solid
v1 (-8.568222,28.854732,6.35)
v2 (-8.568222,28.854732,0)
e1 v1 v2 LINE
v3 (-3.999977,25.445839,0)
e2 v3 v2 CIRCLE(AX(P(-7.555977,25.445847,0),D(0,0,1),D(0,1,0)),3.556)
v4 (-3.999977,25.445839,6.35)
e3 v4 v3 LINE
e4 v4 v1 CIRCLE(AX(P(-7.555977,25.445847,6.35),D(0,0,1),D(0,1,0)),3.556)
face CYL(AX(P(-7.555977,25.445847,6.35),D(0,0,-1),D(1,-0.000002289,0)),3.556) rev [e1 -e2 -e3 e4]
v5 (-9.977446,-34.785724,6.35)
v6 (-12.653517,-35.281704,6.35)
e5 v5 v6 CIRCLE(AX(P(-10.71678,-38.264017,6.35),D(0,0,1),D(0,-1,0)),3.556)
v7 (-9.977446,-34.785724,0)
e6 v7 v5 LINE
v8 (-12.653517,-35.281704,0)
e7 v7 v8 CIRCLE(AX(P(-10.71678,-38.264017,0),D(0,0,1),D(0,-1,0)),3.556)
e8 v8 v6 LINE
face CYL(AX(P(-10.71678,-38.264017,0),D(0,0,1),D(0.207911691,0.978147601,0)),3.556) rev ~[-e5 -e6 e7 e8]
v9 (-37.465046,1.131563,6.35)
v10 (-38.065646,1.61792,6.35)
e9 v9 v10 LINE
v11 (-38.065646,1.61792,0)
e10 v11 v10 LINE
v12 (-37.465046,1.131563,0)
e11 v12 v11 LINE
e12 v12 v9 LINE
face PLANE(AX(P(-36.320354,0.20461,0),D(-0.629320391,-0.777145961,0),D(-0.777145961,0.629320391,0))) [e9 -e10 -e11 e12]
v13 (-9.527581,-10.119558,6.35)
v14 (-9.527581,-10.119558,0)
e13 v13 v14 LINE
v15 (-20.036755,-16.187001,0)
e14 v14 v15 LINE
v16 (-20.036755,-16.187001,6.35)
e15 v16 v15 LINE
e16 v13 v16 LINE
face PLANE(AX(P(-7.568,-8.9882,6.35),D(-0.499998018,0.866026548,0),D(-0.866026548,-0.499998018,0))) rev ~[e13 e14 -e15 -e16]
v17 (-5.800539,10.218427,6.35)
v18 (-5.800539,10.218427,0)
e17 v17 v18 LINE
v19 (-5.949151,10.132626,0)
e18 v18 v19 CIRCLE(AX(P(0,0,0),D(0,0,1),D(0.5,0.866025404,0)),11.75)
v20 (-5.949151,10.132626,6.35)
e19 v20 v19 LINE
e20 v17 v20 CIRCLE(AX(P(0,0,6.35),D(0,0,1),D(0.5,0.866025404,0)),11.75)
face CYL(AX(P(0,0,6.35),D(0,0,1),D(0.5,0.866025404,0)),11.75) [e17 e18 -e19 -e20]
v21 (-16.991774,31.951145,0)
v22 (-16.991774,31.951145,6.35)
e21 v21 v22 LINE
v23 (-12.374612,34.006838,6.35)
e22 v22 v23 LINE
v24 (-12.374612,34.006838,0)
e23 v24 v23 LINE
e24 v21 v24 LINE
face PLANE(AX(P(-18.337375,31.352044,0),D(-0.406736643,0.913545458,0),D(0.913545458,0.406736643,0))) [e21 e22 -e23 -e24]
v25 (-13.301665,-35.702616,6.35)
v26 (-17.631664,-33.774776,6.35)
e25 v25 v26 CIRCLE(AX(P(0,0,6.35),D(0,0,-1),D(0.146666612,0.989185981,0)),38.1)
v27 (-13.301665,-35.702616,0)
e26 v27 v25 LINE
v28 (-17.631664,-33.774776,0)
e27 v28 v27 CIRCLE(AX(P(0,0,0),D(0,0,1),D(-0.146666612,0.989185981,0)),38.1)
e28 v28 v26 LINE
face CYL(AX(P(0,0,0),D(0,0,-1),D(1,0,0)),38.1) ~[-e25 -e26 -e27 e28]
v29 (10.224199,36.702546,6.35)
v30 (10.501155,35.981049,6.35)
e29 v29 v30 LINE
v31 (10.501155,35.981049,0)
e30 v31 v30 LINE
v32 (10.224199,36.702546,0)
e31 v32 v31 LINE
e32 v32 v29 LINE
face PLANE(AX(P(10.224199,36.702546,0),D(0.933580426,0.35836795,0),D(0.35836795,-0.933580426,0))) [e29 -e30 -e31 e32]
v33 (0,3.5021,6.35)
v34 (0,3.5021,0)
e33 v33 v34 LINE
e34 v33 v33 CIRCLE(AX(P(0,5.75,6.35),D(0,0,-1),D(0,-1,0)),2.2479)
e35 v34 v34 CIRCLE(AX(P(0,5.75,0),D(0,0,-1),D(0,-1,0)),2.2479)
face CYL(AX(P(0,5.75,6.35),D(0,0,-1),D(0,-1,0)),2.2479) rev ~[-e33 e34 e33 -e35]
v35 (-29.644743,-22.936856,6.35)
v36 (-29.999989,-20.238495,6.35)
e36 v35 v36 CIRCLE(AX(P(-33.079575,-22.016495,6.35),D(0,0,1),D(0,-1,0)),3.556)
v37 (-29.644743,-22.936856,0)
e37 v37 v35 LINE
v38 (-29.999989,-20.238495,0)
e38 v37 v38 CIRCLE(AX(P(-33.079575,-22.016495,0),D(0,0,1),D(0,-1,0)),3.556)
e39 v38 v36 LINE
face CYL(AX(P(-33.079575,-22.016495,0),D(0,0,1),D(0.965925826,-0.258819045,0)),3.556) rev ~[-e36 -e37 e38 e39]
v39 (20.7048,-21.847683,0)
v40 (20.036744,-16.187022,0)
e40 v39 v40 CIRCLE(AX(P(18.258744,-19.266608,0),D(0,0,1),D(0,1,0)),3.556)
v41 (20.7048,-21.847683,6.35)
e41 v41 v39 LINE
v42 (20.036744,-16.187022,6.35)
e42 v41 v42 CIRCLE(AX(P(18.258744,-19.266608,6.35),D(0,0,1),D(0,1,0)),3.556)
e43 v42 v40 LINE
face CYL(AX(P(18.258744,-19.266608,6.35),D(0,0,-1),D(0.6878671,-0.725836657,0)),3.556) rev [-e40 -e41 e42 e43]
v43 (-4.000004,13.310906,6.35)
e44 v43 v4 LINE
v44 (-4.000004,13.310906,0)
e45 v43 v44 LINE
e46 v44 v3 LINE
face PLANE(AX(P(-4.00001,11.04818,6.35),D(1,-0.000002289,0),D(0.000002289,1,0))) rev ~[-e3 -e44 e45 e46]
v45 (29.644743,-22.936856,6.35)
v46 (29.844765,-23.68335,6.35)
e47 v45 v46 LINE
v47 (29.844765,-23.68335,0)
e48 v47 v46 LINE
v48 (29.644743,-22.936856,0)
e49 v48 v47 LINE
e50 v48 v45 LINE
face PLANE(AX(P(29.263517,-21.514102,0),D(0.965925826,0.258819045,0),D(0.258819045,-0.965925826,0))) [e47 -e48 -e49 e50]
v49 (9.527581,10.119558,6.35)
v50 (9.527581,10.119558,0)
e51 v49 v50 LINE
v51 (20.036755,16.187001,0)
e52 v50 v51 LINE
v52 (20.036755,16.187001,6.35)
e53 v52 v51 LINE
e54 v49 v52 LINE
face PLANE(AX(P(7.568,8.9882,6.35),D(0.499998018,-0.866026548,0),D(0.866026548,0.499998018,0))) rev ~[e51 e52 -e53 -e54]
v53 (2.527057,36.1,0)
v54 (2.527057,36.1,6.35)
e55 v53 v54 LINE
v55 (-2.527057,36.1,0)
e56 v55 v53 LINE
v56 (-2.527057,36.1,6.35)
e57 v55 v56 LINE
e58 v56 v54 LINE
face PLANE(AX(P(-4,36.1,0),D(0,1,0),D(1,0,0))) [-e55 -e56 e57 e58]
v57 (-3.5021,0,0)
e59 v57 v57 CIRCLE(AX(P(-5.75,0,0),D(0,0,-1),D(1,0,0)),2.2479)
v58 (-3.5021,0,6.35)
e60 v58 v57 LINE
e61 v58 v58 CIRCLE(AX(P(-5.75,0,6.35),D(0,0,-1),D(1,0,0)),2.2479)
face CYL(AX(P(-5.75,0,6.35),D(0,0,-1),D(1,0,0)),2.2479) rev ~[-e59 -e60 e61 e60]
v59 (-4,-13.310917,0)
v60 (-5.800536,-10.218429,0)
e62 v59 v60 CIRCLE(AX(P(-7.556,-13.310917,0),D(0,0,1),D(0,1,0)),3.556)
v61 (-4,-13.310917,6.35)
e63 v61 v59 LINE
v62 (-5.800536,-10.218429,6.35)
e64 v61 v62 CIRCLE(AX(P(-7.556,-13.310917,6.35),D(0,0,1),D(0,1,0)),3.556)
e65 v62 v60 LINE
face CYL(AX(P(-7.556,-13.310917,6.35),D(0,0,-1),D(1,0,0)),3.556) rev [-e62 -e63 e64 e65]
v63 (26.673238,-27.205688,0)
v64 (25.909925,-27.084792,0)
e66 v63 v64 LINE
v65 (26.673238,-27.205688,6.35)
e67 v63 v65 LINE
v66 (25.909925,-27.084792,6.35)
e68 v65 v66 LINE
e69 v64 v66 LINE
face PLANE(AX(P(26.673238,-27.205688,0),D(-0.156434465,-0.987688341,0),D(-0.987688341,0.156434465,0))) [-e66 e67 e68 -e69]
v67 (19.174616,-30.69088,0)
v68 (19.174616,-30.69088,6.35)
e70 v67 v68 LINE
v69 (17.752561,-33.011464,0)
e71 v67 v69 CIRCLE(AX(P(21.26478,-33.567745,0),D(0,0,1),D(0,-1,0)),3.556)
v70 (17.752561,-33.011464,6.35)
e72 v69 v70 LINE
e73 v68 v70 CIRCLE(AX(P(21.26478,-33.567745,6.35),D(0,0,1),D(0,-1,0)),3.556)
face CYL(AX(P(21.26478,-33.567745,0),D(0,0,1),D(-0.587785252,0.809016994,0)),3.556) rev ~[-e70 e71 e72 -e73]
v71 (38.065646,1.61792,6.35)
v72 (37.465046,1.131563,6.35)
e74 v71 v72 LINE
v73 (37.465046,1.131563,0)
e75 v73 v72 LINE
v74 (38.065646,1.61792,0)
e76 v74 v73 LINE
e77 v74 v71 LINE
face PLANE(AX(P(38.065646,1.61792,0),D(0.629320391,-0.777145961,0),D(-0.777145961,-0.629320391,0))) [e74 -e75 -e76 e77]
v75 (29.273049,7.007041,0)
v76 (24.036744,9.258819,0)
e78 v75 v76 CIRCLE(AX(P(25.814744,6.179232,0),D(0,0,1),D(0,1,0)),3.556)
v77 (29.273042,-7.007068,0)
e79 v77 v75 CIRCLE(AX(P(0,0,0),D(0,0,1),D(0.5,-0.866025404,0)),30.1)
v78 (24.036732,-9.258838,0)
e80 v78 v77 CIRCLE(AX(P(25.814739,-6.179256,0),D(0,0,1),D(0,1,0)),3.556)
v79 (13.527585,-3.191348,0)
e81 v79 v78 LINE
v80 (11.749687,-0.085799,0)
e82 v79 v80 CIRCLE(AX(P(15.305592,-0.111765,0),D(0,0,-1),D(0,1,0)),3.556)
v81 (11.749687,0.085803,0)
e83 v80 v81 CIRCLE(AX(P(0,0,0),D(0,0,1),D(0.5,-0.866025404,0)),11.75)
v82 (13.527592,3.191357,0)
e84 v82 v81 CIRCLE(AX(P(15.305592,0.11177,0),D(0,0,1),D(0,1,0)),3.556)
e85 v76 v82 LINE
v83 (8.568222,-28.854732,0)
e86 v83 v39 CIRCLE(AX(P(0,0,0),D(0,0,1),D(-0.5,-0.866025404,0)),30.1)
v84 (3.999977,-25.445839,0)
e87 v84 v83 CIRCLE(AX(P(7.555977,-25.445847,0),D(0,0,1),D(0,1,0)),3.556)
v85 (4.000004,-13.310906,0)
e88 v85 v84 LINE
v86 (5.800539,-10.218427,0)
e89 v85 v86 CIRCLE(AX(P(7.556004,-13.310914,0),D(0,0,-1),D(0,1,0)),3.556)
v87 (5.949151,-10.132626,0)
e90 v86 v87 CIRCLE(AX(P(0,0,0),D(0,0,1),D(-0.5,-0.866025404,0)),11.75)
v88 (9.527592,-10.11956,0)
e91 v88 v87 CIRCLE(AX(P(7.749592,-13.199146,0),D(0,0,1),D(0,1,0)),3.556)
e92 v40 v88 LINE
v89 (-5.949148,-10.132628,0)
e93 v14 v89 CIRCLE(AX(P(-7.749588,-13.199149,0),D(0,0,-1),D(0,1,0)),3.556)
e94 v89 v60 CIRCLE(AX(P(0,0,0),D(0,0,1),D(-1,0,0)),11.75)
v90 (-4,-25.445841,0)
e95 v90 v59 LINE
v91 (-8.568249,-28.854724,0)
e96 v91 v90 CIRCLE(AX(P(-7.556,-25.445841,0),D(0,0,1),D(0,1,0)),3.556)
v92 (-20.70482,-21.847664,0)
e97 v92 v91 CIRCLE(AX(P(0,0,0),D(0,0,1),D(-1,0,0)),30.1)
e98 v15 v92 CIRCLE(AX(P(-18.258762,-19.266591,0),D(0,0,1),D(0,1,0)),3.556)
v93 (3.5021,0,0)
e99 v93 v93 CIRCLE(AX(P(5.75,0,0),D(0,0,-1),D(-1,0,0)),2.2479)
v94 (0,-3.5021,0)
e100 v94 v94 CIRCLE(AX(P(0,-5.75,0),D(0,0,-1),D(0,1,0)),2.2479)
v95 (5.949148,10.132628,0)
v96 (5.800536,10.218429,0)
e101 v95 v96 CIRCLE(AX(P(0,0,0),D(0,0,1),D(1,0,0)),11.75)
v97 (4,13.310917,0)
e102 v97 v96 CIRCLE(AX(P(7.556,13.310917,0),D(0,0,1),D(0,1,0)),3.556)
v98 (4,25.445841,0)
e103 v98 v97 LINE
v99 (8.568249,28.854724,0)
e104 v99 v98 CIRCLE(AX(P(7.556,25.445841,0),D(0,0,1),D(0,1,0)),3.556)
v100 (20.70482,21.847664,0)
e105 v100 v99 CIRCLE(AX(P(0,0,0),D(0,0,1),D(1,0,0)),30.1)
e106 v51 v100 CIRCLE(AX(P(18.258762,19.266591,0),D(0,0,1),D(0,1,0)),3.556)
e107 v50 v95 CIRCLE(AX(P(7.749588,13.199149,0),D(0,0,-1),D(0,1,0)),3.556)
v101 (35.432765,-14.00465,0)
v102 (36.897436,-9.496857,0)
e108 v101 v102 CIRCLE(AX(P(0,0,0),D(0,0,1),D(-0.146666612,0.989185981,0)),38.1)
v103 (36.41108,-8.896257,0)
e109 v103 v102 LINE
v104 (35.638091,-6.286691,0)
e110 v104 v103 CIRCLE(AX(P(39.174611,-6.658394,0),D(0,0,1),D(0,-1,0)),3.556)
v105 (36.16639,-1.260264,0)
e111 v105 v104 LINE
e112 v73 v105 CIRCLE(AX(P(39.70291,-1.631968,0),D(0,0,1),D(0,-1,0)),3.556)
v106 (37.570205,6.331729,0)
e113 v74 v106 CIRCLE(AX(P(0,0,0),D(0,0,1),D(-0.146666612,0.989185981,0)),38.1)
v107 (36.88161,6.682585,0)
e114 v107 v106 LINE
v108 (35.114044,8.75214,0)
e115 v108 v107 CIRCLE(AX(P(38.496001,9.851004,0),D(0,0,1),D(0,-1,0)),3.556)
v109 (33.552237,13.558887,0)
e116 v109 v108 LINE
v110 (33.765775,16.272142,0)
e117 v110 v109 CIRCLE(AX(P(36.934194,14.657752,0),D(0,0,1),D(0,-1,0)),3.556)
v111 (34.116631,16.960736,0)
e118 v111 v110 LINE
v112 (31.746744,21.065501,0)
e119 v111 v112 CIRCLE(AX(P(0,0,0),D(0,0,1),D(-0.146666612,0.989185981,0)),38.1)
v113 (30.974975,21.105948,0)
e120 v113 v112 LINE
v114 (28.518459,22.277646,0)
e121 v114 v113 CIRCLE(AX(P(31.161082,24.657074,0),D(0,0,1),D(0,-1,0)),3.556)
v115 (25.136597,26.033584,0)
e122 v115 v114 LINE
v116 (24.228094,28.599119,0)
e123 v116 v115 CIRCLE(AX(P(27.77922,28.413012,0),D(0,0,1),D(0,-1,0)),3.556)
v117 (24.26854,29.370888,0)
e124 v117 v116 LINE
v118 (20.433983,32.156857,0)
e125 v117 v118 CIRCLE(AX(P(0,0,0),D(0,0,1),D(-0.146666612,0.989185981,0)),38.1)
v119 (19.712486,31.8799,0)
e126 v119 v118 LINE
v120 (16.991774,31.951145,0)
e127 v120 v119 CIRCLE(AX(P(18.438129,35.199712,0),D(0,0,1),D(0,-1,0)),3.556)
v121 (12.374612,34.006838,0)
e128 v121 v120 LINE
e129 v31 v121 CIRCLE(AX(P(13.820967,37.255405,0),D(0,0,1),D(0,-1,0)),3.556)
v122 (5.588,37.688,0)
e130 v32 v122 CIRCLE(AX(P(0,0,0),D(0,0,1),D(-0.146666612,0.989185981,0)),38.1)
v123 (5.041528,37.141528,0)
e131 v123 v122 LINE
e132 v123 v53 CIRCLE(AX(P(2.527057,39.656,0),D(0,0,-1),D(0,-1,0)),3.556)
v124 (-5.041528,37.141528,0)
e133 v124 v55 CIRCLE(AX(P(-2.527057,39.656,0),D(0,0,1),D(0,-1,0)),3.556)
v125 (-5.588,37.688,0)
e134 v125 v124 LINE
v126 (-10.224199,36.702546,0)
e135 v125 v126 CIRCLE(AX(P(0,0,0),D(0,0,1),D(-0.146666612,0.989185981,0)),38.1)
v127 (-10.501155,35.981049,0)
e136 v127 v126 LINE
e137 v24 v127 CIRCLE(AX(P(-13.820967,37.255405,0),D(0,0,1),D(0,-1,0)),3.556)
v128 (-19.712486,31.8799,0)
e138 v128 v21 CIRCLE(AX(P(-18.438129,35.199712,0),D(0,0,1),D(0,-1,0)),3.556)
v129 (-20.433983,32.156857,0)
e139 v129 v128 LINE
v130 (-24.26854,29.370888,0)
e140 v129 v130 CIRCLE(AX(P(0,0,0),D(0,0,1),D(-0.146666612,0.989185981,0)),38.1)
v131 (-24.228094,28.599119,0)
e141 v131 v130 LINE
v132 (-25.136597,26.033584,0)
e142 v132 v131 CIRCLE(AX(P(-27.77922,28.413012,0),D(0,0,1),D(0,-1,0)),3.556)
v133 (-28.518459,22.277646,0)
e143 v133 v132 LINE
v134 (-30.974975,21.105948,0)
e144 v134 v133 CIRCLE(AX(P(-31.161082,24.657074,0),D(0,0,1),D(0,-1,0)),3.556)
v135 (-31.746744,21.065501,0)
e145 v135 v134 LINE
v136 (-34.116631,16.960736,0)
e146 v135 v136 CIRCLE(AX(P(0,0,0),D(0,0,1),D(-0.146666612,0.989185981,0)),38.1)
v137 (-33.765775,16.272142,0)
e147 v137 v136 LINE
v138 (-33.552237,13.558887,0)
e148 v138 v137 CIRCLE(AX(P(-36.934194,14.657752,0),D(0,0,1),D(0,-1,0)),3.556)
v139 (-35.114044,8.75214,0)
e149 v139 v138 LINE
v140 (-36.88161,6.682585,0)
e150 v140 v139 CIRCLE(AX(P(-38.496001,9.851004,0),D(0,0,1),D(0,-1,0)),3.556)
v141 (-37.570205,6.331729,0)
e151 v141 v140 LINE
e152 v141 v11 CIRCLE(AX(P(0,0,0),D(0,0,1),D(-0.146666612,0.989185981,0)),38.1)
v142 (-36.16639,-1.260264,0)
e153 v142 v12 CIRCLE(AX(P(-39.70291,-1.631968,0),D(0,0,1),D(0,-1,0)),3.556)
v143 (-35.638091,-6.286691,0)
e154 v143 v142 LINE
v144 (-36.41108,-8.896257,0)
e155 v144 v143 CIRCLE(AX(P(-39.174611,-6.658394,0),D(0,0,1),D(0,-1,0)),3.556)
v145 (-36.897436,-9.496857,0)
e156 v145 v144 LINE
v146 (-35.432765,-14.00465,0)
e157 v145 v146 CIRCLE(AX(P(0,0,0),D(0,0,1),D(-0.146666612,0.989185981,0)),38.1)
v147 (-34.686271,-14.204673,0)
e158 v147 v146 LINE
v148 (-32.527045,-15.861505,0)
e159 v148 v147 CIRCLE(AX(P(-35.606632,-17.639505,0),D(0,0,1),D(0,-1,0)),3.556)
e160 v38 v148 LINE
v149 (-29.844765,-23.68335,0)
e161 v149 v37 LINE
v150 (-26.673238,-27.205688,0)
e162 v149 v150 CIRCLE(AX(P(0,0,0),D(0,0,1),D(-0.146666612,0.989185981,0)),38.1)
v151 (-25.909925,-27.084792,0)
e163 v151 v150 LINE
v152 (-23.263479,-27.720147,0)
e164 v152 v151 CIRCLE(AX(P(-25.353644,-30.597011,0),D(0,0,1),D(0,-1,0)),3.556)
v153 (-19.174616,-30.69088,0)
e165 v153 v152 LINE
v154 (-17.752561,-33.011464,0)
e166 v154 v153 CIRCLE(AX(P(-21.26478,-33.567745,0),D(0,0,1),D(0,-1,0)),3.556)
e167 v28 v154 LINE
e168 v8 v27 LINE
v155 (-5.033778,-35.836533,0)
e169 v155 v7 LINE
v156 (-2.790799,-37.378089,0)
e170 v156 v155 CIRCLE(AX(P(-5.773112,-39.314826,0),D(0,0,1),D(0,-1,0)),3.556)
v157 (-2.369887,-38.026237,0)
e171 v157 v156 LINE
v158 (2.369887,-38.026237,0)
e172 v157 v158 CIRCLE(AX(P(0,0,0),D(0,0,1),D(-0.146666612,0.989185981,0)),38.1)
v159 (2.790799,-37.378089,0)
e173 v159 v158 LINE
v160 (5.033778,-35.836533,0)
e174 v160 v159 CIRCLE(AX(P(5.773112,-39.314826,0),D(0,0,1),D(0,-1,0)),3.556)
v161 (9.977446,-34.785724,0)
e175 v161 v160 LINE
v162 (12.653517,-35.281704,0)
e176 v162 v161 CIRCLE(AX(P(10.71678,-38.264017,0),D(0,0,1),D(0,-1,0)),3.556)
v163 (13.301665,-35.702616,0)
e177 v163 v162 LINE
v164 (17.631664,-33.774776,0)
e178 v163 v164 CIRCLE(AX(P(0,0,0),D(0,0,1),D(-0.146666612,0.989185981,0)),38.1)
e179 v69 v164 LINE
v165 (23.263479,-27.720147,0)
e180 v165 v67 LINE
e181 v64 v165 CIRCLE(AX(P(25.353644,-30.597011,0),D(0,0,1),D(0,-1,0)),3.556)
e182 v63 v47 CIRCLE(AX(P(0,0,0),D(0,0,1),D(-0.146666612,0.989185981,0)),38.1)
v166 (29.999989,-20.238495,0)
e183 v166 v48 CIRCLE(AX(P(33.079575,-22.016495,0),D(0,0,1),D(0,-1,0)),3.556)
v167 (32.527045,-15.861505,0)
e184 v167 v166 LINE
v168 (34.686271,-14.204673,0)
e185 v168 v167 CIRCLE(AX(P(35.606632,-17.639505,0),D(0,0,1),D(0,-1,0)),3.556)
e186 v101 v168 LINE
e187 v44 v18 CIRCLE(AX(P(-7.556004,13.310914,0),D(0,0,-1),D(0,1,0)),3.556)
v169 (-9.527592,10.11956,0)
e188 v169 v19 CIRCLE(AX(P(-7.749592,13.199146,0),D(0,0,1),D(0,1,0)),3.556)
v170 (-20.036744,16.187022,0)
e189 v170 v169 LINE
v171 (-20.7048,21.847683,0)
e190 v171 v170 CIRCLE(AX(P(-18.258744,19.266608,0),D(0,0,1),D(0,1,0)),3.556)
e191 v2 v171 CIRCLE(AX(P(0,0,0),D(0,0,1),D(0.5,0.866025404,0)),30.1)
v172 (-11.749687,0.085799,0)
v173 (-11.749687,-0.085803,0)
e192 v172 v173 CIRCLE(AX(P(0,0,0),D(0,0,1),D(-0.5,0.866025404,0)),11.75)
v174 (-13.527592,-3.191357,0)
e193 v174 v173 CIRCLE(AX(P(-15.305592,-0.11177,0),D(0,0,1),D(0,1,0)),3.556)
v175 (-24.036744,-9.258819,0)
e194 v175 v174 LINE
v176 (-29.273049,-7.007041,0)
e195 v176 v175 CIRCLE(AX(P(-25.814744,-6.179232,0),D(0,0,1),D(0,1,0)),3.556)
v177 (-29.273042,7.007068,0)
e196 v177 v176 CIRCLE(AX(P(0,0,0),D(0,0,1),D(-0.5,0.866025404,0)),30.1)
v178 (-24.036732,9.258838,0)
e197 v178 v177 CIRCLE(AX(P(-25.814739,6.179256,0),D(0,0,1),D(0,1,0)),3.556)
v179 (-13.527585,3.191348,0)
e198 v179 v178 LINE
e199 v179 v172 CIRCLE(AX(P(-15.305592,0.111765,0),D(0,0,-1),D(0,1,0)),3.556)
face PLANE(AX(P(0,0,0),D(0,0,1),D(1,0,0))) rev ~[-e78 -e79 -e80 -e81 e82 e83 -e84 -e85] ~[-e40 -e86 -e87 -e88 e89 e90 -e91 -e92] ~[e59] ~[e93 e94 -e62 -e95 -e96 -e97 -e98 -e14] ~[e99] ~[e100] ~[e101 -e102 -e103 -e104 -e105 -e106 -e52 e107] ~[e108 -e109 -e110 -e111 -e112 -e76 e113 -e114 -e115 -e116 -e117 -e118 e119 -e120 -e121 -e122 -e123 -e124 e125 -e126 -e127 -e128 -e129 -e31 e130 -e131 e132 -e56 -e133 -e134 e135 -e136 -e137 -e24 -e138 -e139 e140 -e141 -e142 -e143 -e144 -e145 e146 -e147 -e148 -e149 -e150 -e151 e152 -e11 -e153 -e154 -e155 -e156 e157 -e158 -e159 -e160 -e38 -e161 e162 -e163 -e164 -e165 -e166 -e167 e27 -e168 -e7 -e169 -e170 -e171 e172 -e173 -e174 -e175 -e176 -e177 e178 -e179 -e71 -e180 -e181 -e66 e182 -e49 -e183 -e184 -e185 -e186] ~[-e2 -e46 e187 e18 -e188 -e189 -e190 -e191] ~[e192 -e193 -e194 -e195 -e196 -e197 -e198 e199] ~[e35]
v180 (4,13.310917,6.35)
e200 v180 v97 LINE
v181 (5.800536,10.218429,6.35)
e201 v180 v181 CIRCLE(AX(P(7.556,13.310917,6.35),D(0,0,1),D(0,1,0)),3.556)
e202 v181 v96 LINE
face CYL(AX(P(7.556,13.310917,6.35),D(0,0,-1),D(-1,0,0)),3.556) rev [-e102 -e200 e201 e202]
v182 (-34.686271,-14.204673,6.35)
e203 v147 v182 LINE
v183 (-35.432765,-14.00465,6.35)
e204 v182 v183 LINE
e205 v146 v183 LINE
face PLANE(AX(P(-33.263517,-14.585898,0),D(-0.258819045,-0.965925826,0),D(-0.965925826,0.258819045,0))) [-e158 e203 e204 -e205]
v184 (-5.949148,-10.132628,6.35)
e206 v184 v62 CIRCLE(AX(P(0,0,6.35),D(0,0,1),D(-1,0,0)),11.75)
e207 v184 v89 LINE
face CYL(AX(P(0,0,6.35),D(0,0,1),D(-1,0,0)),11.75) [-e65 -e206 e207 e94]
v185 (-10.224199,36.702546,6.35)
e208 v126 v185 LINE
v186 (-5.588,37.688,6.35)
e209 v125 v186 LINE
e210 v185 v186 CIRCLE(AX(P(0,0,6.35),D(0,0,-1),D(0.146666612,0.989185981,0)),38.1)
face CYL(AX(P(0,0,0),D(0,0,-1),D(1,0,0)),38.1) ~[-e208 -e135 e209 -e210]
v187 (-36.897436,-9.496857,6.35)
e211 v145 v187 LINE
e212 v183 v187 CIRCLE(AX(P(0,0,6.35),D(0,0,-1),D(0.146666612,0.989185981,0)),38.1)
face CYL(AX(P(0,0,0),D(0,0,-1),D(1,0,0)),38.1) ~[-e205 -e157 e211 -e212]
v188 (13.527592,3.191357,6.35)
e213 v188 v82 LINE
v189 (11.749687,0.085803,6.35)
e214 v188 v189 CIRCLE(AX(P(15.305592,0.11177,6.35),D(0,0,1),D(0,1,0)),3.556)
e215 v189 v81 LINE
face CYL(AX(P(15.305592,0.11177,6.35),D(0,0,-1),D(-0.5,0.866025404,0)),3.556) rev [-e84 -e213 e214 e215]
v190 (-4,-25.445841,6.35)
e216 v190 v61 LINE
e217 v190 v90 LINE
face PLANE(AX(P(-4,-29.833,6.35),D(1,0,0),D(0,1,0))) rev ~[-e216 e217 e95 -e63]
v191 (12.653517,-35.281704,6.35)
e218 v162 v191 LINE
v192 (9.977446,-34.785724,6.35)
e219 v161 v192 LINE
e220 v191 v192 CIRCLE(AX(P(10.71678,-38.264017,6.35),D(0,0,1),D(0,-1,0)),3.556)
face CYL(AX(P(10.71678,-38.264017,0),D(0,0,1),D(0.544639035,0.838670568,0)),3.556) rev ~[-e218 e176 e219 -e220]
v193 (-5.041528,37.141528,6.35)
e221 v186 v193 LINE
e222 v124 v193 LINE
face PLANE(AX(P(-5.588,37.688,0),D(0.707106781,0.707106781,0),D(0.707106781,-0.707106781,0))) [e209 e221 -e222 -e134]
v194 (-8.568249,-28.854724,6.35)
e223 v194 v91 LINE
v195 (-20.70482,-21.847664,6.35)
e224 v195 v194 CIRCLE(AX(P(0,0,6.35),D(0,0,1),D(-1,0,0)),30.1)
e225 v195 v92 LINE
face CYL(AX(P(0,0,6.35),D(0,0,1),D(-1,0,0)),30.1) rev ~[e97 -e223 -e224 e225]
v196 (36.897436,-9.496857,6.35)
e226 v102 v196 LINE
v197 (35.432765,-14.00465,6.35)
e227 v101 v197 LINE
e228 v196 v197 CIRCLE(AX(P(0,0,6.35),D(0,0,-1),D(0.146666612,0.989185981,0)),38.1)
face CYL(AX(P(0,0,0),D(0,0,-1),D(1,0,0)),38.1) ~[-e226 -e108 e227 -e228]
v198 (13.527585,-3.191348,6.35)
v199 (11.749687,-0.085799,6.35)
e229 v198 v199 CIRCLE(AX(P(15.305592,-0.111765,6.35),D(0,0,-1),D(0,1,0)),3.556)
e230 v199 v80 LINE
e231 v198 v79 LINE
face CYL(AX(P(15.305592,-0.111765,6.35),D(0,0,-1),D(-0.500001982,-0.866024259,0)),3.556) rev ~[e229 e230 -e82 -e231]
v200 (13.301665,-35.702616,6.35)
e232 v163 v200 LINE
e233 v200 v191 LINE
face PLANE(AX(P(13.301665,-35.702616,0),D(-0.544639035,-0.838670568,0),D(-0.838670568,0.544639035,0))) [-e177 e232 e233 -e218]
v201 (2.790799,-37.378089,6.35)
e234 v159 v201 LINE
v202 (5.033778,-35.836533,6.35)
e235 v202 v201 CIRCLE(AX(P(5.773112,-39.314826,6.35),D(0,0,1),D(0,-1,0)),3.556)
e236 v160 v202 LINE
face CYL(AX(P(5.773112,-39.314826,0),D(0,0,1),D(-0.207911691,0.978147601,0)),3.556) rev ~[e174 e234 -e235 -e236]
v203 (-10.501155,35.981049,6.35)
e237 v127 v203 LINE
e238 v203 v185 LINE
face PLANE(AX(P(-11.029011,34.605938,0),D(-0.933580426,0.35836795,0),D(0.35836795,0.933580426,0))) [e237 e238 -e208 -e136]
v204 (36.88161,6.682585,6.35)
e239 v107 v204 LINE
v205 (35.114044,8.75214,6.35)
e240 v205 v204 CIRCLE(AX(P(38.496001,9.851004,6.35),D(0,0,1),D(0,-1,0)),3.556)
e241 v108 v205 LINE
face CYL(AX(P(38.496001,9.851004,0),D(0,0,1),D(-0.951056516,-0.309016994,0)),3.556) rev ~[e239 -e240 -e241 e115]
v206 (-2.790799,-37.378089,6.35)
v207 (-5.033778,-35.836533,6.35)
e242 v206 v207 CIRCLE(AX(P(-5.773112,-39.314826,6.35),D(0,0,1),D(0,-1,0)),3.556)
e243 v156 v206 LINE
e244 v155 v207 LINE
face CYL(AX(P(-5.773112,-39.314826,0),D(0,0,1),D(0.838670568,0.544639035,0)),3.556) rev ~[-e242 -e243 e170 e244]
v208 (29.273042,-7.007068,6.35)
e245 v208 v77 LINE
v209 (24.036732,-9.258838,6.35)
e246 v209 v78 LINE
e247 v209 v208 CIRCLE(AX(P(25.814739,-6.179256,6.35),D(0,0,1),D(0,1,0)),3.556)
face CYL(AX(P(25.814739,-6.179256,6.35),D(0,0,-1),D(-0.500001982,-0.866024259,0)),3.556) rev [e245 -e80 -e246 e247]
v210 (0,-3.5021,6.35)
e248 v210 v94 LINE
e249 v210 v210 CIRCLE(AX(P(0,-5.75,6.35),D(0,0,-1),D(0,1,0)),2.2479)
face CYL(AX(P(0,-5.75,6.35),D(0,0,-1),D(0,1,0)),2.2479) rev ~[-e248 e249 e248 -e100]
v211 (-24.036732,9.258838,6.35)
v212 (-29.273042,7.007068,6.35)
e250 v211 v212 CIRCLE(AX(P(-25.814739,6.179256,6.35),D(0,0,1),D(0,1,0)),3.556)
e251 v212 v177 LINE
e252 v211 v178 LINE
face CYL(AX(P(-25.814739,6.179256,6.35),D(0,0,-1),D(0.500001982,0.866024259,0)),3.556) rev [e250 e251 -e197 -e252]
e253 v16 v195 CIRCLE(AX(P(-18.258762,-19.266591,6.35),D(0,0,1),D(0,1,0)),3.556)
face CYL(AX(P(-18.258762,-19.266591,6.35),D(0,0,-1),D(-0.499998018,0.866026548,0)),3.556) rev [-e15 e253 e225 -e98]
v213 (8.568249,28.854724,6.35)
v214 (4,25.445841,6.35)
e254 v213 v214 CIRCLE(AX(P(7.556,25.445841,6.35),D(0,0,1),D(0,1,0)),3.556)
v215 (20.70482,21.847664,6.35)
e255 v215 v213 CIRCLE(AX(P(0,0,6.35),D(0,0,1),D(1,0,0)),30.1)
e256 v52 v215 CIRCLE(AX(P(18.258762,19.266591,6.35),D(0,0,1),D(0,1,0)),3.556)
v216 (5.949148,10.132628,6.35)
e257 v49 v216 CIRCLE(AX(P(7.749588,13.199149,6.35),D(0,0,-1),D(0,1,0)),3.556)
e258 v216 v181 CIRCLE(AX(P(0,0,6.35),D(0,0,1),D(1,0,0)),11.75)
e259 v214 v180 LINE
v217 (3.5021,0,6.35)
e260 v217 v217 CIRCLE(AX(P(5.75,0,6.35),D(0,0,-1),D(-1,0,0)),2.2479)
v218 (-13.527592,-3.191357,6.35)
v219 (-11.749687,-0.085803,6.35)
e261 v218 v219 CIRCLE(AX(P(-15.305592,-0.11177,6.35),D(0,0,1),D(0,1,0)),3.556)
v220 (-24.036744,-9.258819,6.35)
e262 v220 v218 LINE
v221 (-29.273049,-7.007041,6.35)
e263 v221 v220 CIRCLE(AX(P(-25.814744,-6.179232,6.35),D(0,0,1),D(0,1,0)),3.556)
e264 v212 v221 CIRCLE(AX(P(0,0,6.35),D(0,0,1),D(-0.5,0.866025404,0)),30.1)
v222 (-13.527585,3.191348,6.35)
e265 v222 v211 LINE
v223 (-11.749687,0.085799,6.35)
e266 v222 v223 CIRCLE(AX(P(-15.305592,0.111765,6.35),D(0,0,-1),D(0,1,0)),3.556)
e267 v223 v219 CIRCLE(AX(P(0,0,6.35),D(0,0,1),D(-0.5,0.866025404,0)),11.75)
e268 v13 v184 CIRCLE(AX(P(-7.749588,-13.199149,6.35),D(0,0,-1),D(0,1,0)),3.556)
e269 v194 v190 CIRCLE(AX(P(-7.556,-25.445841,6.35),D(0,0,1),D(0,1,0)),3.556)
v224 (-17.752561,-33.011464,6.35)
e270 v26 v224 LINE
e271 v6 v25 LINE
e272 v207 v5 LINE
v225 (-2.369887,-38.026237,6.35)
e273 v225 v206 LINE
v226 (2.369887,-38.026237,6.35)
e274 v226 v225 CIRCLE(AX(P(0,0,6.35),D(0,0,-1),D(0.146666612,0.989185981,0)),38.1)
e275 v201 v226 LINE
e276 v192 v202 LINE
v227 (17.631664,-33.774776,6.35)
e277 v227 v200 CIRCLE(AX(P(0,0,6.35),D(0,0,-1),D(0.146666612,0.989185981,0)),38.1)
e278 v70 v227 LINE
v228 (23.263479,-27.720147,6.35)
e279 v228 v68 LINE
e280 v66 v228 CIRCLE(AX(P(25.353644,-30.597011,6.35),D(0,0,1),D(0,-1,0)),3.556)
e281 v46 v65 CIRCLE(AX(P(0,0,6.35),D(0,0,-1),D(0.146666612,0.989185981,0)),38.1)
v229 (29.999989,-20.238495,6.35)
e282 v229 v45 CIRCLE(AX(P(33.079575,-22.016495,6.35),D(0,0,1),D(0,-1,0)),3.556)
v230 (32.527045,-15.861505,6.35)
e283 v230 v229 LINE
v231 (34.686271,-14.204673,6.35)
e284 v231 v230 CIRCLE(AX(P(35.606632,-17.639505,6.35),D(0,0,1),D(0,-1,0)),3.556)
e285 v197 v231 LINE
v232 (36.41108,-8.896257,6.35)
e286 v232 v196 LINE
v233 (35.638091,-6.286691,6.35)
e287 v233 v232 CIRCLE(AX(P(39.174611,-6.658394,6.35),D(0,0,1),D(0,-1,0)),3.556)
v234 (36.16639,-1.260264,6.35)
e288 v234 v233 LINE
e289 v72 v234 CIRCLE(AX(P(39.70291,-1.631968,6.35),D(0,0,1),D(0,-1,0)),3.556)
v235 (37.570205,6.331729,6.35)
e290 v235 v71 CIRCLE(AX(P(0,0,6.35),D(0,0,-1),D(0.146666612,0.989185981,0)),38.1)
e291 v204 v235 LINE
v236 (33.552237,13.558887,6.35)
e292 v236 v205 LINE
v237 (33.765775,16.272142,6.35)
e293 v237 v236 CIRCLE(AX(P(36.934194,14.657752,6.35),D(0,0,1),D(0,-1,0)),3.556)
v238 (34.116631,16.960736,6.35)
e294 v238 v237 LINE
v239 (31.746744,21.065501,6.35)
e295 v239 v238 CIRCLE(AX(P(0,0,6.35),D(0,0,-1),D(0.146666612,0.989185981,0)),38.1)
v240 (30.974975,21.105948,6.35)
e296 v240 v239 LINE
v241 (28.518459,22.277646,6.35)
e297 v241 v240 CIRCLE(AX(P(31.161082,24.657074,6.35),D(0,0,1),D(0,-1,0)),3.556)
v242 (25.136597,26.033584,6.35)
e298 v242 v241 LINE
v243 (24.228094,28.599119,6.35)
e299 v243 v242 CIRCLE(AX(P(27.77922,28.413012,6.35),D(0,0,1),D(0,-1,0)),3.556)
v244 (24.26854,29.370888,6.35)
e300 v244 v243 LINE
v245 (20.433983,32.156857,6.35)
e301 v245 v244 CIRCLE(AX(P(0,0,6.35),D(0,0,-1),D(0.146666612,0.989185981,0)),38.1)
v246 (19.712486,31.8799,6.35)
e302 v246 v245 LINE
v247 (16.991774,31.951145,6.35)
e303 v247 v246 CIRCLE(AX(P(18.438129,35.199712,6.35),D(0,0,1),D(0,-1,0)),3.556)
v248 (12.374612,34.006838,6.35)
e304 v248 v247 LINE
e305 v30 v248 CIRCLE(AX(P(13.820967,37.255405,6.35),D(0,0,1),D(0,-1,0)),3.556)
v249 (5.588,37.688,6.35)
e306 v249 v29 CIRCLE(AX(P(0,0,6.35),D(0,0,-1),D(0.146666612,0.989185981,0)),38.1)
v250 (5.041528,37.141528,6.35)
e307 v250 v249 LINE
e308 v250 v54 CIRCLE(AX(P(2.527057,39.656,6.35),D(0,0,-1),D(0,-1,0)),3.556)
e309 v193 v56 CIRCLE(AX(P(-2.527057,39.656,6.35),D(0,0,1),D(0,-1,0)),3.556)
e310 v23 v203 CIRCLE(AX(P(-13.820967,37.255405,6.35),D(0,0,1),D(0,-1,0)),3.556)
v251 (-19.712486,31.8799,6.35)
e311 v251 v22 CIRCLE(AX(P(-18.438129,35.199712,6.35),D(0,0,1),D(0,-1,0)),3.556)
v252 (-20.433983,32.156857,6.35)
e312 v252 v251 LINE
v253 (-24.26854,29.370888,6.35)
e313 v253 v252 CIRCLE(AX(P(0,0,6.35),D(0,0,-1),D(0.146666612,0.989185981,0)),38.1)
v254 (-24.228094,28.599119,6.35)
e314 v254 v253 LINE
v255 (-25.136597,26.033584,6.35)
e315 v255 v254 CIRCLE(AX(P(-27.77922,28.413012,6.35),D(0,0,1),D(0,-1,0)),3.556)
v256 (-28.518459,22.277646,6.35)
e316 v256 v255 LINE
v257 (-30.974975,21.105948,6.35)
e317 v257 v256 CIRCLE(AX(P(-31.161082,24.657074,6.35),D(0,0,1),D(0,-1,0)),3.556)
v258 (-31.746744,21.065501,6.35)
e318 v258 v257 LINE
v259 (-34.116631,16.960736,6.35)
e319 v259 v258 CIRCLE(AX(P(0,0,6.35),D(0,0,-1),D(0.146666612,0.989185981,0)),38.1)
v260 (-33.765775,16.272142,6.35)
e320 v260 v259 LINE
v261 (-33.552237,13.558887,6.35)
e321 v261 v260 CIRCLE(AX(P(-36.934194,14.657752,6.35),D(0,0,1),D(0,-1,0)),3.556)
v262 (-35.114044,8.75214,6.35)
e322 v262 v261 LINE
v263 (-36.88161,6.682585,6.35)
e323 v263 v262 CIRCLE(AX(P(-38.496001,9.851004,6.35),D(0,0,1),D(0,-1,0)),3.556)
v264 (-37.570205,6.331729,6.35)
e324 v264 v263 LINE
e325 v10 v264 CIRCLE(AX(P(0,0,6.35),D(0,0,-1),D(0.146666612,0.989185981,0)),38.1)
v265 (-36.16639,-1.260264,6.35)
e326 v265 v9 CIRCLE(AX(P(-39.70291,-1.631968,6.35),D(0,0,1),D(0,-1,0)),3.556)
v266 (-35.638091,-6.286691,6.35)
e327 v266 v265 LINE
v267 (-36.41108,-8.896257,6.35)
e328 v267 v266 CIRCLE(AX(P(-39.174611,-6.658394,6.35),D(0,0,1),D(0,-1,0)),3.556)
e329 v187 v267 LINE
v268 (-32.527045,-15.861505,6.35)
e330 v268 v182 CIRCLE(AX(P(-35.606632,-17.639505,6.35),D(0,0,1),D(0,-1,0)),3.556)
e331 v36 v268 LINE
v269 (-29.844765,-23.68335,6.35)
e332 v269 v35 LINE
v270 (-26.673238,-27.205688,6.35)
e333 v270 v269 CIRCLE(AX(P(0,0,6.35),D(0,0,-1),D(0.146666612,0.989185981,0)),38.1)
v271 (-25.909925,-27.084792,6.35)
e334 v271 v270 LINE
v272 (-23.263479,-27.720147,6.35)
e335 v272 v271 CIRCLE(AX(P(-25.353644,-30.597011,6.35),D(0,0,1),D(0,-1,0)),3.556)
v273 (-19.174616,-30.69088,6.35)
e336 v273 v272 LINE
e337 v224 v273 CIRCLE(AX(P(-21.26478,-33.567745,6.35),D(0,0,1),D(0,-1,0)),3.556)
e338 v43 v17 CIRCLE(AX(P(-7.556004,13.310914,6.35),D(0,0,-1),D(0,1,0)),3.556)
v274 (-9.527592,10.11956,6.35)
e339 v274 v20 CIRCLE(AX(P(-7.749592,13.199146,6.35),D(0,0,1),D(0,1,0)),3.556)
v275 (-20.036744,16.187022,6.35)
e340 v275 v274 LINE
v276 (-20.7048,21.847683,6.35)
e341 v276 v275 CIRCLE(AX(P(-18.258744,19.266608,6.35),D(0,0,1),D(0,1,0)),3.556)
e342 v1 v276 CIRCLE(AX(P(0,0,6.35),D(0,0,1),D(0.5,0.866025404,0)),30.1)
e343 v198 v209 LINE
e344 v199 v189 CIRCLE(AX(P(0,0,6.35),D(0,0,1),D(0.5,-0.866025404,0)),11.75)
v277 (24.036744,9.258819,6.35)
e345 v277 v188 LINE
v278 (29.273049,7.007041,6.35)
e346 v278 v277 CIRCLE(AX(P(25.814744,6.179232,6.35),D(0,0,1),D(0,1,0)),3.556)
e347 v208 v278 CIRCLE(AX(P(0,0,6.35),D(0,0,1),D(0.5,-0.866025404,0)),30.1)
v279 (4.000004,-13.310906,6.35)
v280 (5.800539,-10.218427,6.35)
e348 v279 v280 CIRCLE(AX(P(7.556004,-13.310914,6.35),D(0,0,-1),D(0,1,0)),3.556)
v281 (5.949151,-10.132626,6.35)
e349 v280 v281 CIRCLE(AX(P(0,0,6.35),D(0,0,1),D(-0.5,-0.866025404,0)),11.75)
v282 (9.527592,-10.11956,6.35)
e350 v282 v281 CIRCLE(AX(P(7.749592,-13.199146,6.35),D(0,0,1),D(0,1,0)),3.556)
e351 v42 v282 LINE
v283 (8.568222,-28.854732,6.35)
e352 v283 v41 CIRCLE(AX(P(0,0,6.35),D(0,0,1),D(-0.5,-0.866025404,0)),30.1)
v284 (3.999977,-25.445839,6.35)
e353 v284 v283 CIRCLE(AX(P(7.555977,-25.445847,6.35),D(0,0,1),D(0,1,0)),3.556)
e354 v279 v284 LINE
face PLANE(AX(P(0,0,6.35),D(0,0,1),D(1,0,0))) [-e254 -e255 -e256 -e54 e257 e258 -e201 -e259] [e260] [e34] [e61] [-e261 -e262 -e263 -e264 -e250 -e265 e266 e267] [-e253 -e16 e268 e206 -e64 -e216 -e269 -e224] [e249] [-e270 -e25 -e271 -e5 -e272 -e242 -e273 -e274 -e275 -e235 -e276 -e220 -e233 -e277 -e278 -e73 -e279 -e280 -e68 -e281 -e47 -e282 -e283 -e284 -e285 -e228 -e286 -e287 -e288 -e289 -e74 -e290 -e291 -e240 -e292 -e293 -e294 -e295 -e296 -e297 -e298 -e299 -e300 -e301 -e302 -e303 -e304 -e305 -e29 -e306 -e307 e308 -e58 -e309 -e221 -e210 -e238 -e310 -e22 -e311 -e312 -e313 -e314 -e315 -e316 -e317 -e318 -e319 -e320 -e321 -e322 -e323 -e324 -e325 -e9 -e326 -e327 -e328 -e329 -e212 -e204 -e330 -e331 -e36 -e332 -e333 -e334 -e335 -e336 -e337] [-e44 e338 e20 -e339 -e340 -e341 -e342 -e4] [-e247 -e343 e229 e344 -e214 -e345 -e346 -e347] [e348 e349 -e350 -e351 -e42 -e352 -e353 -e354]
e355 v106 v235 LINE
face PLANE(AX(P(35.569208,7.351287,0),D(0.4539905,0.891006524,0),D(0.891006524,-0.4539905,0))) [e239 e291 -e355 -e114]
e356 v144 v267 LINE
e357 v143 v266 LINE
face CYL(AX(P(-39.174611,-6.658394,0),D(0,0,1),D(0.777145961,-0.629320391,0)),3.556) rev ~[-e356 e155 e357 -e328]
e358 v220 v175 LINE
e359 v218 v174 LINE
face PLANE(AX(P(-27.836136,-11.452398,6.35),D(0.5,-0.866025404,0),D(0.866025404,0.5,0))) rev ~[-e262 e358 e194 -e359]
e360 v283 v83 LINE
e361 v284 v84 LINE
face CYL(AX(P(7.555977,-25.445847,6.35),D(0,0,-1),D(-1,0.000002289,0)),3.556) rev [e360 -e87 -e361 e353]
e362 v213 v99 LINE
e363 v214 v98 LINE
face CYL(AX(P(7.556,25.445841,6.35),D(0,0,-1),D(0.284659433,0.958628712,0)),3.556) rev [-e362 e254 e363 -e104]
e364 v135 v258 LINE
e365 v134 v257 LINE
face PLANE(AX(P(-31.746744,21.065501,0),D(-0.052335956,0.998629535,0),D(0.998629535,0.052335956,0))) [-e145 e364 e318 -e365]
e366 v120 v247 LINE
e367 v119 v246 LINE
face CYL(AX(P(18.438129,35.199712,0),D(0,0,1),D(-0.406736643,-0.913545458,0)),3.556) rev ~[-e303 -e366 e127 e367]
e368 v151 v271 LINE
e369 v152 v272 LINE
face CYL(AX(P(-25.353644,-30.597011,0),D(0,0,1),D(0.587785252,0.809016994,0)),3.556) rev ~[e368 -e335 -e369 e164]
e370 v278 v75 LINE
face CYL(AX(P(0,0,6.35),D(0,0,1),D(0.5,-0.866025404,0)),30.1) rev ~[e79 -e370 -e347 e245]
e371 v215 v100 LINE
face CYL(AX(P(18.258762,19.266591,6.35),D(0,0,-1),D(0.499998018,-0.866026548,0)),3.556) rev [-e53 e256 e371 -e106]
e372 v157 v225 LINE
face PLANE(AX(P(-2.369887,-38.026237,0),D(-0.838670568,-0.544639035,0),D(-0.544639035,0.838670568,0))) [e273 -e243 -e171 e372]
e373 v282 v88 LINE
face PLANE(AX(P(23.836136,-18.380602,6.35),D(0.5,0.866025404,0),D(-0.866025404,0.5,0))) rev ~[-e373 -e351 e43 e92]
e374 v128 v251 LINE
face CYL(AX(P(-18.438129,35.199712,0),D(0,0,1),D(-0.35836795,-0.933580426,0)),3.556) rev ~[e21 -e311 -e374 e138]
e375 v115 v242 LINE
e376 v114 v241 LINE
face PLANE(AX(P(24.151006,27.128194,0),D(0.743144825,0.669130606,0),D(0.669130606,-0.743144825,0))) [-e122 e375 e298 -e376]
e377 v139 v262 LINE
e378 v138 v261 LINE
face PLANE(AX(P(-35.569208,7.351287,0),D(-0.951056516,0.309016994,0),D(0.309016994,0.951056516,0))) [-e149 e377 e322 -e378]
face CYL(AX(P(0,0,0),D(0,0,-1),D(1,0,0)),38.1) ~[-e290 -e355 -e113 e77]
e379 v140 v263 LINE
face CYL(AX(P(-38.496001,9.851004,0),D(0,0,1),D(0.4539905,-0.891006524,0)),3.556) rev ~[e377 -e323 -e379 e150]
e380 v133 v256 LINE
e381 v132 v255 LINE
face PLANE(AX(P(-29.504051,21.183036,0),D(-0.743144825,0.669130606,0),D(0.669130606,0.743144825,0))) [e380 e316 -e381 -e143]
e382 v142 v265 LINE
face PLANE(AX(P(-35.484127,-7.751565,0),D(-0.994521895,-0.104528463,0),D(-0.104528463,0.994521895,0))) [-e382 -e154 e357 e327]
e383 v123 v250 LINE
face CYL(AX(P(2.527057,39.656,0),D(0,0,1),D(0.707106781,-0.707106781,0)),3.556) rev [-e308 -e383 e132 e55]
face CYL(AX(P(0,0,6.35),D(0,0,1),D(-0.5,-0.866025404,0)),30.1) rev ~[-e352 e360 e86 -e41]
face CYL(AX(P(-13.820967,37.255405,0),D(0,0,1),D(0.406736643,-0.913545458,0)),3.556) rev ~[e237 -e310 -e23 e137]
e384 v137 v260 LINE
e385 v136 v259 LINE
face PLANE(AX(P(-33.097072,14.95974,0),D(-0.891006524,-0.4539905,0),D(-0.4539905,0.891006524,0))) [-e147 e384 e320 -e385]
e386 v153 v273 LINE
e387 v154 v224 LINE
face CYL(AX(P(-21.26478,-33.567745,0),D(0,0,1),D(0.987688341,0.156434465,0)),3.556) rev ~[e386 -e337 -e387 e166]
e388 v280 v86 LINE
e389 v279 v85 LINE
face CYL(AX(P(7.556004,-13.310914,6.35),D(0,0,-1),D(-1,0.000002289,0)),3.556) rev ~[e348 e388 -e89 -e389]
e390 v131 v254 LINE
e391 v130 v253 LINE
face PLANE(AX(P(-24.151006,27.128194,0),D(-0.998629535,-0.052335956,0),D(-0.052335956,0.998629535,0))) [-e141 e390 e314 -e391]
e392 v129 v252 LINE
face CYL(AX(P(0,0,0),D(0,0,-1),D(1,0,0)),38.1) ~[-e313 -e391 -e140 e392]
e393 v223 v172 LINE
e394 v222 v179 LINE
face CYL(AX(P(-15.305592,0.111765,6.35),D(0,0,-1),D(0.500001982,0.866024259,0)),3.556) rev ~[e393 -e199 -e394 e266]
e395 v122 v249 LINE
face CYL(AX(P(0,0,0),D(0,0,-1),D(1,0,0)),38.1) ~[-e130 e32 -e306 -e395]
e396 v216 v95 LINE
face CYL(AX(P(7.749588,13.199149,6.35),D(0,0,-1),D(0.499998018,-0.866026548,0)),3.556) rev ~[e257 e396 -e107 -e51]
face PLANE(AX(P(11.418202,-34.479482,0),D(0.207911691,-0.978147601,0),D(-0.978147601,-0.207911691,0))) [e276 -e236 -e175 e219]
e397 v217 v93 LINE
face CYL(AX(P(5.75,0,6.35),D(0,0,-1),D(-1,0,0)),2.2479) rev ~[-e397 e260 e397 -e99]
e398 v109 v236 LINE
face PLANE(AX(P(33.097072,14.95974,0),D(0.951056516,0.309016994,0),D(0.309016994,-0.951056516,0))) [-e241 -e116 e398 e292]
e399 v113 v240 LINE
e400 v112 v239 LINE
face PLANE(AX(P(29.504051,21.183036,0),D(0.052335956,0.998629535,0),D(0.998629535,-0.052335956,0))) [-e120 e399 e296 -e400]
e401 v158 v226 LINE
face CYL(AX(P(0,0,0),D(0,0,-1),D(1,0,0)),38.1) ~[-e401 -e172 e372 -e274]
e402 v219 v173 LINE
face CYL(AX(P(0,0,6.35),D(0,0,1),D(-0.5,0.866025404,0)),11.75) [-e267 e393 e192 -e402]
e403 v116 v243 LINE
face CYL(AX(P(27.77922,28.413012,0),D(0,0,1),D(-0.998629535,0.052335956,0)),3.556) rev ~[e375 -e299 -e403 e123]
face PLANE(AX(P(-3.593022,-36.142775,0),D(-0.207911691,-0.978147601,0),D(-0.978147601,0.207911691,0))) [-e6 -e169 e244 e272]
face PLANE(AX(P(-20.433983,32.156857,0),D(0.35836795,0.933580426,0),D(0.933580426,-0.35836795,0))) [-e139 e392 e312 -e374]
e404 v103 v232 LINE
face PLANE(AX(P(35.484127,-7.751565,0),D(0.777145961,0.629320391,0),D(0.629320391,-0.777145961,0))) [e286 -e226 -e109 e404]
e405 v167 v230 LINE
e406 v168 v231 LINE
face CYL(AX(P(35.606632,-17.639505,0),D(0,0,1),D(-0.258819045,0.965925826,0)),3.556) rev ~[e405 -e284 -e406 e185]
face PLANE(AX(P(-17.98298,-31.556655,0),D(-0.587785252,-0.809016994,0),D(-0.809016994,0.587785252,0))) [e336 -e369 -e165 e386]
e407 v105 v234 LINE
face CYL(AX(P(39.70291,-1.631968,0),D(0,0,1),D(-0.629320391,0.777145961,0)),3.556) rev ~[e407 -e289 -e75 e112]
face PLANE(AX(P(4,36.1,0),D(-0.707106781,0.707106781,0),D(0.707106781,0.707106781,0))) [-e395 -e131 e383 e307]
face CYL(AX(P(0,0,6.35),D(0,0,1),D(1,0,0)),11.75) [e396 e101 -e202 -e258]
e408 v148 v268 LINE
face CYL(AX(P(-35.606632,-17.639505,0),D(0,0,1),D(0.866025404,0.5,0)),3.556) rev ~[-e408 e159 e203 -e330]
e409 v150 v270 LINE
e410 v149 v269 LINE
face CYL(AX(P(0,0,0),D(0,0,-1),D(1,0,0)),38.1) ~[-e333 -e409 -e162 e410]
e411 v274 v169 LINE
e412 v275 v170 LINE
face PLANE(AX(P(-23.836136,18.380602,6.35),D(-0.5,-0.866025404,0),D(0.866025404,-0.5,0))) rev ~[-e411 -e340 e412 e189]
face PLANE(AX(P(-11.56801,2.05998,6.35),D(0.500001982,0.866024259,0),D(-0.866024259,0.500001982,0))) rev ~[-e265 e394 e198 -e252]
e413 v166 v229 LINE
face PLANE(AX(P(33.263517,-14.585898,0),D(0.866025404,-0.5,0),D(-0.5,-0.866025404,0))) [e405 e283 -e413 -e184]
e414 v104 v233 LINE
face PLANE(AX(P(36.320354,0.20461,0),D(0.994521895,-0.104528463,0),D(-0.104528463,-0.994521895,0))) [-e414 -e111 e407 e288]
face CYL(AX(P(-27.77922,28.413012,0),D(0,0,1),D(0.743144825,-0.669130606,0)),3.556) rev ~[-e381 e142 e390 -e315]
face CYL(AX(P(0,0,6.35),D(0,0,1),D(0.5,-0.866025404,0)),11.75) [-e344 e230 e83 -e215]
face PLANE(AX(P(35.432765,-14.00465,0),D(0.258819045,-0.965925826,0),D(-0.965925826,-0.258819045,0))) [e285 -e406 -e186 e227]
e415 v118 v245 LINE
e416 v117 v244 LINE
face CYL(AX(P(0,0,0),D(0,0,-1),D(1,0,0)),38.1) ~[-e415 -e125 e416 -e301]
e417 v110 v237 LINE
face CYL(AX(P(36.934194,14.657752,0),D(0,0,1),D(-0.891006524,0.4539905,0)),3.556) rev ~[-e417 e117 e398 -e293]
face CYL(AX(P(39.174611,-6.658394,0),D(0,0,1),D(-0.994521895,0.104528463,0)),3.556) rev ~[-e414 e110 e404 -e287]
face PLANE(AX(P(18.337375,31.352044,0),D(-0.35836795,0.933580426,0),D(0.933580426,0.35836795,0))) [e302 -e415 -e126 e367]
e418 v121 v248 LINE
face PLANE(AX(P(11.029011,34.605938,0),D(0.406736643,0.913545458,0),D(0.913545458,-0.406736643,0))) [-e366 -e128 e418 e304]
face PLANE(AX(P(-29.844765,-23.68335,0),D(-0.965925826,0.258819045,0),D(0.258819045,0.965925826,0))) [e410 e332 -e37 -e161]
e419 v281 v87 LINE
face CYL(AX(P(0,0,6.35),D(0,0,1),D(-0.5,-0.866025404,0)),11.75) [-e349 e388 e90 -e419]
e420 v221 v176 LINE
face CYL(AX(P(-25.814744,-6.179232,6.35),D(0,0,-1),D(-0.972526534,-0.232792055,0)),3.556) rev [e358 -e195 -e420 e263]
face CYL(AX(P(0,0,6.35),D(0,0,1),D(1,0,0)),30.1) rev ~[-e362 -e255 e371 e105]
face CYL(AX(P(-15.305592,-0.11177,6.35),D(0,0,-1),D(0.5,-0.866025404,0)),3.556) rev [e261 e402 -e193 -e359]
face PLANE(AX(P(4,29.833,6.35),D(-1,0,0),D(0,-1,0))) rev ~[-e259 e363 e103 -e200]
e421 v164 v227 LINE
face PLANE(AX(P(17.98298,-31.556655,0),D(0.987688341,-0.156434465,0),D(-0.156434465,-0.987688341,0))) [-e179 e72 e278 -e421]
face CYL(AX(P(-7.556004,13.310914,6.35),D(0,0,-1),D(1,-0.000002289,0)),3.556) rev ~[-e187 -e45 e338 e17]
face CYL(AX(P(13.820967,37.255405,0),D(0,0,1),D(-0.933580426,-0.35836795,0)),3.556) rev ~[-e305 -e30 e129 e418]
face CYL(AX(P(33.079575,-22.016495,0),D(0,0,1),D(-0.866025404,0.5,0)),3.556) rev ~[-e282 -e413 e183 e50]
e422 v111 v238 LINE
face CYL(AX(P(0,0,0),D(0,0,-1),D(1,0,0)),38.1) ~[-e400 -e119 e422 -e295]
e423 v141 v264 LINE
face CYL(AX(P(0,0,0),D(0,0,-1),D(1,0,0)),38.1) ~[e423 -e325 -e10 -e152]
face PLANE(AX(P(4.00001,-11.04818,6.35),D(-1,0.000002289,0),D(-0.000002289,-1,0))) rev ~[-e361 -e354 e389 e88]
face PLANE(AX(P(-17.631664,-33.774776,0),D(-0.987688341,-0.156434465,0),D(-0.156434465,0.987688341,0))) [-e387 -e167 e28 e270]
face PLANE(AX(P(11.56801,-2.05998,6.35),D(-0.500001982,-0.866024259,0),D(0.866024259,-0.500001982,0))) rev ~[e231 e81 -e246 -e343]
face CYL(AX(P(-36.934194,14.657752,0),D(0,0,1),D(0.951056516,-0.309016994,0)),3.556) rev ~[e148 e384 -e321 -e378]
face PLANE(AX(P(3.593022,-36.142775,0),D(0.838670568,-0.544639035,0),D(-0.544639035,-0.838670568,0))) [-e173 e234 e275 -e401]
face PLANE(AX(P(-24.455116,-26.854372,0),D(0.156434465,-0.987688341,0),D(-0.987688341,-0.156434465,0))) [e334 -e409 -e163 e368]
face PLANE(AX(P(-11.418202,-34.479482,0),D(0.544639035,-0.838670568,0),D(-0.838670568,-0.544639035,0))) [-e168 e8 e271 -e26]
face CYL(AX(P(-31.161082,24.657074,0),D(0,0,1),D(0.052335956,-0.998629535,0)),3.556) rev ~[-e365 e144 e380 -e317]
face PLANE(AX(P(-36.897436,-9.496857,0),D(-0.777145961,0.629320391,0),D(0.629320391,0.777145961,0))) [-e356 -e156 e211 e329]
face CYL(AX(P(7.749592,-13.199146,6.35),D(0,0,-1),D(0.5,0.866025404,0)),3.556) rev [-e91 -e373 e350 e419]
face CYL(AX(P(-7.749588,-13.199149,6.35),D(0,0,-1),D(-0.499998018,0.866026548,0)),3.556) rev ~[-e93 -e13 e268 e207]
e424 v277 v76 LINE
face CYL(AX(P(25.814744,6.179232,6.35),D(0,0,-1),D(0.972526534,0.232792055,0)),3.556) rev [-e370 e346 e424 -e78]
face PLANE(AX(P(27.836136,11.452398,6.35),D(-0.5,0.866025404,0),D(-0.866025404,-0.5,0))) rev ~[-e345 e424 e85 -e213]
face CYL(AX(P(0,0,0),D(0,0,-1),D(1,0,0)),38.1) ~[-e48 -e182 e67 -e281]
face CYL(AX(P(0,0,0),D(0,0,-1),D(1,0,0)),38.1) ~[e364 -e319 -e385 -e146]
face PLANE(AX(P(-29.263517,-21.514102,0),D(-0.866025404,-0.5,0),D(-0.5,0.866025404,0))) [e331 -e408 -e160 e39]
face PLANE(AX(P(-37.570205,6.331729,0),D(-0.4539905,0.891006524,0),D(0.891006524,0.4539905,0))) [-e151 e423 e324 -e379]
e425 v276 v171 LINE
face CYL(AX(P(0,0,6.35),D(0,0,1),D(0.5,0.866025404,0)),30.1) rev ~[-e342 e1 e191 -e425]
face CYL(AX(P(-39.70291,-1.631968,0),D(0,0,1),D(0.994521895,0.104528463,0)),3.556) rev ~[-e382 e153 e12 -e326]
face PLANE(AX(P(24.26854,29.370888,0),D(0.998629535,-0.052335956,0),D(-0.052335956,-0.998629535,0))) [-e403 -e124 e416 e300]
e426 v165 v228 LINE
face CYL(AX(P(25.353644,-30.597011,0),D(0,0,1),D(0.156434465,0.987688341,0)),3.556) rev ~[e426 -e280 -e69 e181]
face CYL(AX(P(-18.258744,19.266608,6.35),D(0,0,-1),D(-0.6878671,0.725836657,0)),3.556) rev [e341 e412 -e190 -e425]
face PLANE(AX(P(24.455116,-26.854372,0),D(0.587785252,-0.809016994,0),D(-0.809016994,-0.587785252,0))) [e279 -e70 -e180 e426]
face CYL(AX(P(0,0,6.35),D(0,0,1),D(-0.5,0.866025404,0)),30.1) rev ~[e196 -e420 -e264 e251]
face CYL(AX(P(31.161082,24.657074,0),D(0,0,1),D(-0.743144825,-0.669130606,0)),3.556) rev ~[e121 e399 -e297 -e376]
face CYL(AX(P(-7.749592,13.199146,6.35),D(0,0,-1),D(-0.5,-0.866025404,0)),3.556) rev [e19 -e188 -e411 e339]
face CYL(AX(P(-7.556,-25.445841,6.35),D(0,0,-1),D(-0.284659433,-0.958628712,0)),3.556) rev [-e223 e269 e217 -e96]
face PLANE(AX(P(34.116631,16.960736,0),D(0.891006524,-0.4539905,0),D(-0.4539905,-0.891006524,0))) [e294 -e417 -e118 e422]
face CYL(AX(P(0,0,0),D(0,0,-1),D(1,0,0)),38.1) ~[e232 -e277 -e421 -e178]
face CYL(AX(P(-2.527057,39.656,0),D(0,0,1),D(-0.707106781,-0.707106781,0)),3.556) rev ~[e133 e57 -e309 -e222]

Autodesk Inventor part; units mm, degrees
ref_plane "YZ Plane" through (0, 0, 0) normal (1, 0, 0) x (0, 1, 0)
ref_plane "XZ Plane" through (0, 0, 0) normal (0, 1, 0) x (-1, 0, 0)
ref_plane "XY Plane" through (0, 0, 0) normal (0, 0, 1) x (1, 0, 0)
sketch "Sketch5" plane through (0, 0, 0) normal (0, 0, 1) x (1, 0, 0)
  circle A0 centre (0, 0) radius 38.1
  line L0 (-5.588, 37.688) -> (-4, 36.1)
  line L1 (-4, 36.1) -> (4, 36.1)
  line L2 (4, 36.1) -> (5.588, 37.688)
  circle A1 centre (0, 0) radius 5.75
  dimension "d20" = 76.2
  dimension "d21" = 11.5
  dimension "d22" = 2
  dimension "d23" = 135
  dimension "d24" = 135
  dimension "d62" = 8
extrude "Extrusion4" add sketch "Sketch5" along normal blind 6.35 contours A0 L0 L1 L2 | L2 L1 L0 A0 | A1
extrude "Extrusion5" cut sketch "Sketch5" along normal blind 6.35 contours L2 L1 L0 A0 picked at (0.6229, 36.7514)
fillet "Fillet2" radius 3.556 2 edges at (-4, 36.1, 3.175) (4, 36.1, 3.175)
pattern_circular "Circular Pattern2" count 15 over 360 about axis through (0, 0, 0) along (0, 0, 1) of "Extrusion5", "Fillet2"
sketch "Sketch6" plane through (0, 0, 6.35) normal (0, 0, 1) x (1, 0, 0)
  circle A0 centre (0, 0) radius 30.1
  circle A1 centre (0, 0) radius 11.75
  line L0 (-2.7875, 30.1) -> (2.7875, 30.1) construction
  line L1 (4, 36.1) -> (-4, 36.1) construction
  line L2 (0, 0) -> (0, 8) construction
  circle A2 centre (0, 0) radius 5.75 projected
  line L3 (-4, 11.0482) -> (-4, 29.833)
  line L4 (4, 29.833) -> (4, 11.0482)
  line L5 (7.568, 8.9882) -> (23.8362, 18.3806)
  line L6 (0, 0) -> (13.6183, 7.8626)
  point P0 (0, 30.1)
  dimension "d34" = 6
  dimension "d43" = 6
  dimension "d57" = 4
  dimension "d58" = 4
  dimension "d59" = 60
  dimension "d60" = 4
  dimension "d61" = 8
extrude "Extrusion6" cut sketch "Sketch6" against normal blind 25.4 contours L5 A1 L4 A0
fillet "Fillet1" radius 3.556 4 edges at (4, 11.0482, 3.175) (7.568, 8.9882, 3.175) (23.8362, 18.3806, 3.175) (4, 29.833, 3.175)
pattern_circular "Circular Pattern3" count 6 over 360 about axis through (0, 0, 0) along (0, 0, 1) of "Extrusion6", "Fillet1"
sketch "Sketch7" plane through (0, 0, 6.35) normal (0, 0, 1) x (1, 0, 0)
  circle A0 centre (0, 0) radius 5.75 projected
  point P0 (0, 5.75)
hole "Hole1" at (0, 5.75, 6.35) direction (0, 0, -1) diameter 4.4958 depth 14.1986 tip angle 118 clearance for "Flat Head Machine Screw" size "M4" standard "Ansi Metric M Profile"
pattern_circular "Circular Pattern4" count 4 over 360 about axis through (0, 0, 6.35) along (0, 0, -1) of "Hole1"
equation "\"d58\" = d57"
equation "\"d60\" = d57"
equation "\"BendRadius\" = Thickness"
equation "\"BendReliefWidth\" = Thickness"
equation "\"BendReliefDepth\" = 0.5 * Thickness"
equation "\"CornerReliefSize\" = 4 * Thickness"
equation "\"MinimumRemnant\" = 2 * Thickness"
equation "\"TransitionRadius\" = BendRadius"
equation "\"JacobiRadiusSize\" = BendRadius"
equation "\"GapSize\" = Thickness"
equation "\"Thickness\" = 6.35"
properties part number "Wheel" material "Aluminum 6061"
